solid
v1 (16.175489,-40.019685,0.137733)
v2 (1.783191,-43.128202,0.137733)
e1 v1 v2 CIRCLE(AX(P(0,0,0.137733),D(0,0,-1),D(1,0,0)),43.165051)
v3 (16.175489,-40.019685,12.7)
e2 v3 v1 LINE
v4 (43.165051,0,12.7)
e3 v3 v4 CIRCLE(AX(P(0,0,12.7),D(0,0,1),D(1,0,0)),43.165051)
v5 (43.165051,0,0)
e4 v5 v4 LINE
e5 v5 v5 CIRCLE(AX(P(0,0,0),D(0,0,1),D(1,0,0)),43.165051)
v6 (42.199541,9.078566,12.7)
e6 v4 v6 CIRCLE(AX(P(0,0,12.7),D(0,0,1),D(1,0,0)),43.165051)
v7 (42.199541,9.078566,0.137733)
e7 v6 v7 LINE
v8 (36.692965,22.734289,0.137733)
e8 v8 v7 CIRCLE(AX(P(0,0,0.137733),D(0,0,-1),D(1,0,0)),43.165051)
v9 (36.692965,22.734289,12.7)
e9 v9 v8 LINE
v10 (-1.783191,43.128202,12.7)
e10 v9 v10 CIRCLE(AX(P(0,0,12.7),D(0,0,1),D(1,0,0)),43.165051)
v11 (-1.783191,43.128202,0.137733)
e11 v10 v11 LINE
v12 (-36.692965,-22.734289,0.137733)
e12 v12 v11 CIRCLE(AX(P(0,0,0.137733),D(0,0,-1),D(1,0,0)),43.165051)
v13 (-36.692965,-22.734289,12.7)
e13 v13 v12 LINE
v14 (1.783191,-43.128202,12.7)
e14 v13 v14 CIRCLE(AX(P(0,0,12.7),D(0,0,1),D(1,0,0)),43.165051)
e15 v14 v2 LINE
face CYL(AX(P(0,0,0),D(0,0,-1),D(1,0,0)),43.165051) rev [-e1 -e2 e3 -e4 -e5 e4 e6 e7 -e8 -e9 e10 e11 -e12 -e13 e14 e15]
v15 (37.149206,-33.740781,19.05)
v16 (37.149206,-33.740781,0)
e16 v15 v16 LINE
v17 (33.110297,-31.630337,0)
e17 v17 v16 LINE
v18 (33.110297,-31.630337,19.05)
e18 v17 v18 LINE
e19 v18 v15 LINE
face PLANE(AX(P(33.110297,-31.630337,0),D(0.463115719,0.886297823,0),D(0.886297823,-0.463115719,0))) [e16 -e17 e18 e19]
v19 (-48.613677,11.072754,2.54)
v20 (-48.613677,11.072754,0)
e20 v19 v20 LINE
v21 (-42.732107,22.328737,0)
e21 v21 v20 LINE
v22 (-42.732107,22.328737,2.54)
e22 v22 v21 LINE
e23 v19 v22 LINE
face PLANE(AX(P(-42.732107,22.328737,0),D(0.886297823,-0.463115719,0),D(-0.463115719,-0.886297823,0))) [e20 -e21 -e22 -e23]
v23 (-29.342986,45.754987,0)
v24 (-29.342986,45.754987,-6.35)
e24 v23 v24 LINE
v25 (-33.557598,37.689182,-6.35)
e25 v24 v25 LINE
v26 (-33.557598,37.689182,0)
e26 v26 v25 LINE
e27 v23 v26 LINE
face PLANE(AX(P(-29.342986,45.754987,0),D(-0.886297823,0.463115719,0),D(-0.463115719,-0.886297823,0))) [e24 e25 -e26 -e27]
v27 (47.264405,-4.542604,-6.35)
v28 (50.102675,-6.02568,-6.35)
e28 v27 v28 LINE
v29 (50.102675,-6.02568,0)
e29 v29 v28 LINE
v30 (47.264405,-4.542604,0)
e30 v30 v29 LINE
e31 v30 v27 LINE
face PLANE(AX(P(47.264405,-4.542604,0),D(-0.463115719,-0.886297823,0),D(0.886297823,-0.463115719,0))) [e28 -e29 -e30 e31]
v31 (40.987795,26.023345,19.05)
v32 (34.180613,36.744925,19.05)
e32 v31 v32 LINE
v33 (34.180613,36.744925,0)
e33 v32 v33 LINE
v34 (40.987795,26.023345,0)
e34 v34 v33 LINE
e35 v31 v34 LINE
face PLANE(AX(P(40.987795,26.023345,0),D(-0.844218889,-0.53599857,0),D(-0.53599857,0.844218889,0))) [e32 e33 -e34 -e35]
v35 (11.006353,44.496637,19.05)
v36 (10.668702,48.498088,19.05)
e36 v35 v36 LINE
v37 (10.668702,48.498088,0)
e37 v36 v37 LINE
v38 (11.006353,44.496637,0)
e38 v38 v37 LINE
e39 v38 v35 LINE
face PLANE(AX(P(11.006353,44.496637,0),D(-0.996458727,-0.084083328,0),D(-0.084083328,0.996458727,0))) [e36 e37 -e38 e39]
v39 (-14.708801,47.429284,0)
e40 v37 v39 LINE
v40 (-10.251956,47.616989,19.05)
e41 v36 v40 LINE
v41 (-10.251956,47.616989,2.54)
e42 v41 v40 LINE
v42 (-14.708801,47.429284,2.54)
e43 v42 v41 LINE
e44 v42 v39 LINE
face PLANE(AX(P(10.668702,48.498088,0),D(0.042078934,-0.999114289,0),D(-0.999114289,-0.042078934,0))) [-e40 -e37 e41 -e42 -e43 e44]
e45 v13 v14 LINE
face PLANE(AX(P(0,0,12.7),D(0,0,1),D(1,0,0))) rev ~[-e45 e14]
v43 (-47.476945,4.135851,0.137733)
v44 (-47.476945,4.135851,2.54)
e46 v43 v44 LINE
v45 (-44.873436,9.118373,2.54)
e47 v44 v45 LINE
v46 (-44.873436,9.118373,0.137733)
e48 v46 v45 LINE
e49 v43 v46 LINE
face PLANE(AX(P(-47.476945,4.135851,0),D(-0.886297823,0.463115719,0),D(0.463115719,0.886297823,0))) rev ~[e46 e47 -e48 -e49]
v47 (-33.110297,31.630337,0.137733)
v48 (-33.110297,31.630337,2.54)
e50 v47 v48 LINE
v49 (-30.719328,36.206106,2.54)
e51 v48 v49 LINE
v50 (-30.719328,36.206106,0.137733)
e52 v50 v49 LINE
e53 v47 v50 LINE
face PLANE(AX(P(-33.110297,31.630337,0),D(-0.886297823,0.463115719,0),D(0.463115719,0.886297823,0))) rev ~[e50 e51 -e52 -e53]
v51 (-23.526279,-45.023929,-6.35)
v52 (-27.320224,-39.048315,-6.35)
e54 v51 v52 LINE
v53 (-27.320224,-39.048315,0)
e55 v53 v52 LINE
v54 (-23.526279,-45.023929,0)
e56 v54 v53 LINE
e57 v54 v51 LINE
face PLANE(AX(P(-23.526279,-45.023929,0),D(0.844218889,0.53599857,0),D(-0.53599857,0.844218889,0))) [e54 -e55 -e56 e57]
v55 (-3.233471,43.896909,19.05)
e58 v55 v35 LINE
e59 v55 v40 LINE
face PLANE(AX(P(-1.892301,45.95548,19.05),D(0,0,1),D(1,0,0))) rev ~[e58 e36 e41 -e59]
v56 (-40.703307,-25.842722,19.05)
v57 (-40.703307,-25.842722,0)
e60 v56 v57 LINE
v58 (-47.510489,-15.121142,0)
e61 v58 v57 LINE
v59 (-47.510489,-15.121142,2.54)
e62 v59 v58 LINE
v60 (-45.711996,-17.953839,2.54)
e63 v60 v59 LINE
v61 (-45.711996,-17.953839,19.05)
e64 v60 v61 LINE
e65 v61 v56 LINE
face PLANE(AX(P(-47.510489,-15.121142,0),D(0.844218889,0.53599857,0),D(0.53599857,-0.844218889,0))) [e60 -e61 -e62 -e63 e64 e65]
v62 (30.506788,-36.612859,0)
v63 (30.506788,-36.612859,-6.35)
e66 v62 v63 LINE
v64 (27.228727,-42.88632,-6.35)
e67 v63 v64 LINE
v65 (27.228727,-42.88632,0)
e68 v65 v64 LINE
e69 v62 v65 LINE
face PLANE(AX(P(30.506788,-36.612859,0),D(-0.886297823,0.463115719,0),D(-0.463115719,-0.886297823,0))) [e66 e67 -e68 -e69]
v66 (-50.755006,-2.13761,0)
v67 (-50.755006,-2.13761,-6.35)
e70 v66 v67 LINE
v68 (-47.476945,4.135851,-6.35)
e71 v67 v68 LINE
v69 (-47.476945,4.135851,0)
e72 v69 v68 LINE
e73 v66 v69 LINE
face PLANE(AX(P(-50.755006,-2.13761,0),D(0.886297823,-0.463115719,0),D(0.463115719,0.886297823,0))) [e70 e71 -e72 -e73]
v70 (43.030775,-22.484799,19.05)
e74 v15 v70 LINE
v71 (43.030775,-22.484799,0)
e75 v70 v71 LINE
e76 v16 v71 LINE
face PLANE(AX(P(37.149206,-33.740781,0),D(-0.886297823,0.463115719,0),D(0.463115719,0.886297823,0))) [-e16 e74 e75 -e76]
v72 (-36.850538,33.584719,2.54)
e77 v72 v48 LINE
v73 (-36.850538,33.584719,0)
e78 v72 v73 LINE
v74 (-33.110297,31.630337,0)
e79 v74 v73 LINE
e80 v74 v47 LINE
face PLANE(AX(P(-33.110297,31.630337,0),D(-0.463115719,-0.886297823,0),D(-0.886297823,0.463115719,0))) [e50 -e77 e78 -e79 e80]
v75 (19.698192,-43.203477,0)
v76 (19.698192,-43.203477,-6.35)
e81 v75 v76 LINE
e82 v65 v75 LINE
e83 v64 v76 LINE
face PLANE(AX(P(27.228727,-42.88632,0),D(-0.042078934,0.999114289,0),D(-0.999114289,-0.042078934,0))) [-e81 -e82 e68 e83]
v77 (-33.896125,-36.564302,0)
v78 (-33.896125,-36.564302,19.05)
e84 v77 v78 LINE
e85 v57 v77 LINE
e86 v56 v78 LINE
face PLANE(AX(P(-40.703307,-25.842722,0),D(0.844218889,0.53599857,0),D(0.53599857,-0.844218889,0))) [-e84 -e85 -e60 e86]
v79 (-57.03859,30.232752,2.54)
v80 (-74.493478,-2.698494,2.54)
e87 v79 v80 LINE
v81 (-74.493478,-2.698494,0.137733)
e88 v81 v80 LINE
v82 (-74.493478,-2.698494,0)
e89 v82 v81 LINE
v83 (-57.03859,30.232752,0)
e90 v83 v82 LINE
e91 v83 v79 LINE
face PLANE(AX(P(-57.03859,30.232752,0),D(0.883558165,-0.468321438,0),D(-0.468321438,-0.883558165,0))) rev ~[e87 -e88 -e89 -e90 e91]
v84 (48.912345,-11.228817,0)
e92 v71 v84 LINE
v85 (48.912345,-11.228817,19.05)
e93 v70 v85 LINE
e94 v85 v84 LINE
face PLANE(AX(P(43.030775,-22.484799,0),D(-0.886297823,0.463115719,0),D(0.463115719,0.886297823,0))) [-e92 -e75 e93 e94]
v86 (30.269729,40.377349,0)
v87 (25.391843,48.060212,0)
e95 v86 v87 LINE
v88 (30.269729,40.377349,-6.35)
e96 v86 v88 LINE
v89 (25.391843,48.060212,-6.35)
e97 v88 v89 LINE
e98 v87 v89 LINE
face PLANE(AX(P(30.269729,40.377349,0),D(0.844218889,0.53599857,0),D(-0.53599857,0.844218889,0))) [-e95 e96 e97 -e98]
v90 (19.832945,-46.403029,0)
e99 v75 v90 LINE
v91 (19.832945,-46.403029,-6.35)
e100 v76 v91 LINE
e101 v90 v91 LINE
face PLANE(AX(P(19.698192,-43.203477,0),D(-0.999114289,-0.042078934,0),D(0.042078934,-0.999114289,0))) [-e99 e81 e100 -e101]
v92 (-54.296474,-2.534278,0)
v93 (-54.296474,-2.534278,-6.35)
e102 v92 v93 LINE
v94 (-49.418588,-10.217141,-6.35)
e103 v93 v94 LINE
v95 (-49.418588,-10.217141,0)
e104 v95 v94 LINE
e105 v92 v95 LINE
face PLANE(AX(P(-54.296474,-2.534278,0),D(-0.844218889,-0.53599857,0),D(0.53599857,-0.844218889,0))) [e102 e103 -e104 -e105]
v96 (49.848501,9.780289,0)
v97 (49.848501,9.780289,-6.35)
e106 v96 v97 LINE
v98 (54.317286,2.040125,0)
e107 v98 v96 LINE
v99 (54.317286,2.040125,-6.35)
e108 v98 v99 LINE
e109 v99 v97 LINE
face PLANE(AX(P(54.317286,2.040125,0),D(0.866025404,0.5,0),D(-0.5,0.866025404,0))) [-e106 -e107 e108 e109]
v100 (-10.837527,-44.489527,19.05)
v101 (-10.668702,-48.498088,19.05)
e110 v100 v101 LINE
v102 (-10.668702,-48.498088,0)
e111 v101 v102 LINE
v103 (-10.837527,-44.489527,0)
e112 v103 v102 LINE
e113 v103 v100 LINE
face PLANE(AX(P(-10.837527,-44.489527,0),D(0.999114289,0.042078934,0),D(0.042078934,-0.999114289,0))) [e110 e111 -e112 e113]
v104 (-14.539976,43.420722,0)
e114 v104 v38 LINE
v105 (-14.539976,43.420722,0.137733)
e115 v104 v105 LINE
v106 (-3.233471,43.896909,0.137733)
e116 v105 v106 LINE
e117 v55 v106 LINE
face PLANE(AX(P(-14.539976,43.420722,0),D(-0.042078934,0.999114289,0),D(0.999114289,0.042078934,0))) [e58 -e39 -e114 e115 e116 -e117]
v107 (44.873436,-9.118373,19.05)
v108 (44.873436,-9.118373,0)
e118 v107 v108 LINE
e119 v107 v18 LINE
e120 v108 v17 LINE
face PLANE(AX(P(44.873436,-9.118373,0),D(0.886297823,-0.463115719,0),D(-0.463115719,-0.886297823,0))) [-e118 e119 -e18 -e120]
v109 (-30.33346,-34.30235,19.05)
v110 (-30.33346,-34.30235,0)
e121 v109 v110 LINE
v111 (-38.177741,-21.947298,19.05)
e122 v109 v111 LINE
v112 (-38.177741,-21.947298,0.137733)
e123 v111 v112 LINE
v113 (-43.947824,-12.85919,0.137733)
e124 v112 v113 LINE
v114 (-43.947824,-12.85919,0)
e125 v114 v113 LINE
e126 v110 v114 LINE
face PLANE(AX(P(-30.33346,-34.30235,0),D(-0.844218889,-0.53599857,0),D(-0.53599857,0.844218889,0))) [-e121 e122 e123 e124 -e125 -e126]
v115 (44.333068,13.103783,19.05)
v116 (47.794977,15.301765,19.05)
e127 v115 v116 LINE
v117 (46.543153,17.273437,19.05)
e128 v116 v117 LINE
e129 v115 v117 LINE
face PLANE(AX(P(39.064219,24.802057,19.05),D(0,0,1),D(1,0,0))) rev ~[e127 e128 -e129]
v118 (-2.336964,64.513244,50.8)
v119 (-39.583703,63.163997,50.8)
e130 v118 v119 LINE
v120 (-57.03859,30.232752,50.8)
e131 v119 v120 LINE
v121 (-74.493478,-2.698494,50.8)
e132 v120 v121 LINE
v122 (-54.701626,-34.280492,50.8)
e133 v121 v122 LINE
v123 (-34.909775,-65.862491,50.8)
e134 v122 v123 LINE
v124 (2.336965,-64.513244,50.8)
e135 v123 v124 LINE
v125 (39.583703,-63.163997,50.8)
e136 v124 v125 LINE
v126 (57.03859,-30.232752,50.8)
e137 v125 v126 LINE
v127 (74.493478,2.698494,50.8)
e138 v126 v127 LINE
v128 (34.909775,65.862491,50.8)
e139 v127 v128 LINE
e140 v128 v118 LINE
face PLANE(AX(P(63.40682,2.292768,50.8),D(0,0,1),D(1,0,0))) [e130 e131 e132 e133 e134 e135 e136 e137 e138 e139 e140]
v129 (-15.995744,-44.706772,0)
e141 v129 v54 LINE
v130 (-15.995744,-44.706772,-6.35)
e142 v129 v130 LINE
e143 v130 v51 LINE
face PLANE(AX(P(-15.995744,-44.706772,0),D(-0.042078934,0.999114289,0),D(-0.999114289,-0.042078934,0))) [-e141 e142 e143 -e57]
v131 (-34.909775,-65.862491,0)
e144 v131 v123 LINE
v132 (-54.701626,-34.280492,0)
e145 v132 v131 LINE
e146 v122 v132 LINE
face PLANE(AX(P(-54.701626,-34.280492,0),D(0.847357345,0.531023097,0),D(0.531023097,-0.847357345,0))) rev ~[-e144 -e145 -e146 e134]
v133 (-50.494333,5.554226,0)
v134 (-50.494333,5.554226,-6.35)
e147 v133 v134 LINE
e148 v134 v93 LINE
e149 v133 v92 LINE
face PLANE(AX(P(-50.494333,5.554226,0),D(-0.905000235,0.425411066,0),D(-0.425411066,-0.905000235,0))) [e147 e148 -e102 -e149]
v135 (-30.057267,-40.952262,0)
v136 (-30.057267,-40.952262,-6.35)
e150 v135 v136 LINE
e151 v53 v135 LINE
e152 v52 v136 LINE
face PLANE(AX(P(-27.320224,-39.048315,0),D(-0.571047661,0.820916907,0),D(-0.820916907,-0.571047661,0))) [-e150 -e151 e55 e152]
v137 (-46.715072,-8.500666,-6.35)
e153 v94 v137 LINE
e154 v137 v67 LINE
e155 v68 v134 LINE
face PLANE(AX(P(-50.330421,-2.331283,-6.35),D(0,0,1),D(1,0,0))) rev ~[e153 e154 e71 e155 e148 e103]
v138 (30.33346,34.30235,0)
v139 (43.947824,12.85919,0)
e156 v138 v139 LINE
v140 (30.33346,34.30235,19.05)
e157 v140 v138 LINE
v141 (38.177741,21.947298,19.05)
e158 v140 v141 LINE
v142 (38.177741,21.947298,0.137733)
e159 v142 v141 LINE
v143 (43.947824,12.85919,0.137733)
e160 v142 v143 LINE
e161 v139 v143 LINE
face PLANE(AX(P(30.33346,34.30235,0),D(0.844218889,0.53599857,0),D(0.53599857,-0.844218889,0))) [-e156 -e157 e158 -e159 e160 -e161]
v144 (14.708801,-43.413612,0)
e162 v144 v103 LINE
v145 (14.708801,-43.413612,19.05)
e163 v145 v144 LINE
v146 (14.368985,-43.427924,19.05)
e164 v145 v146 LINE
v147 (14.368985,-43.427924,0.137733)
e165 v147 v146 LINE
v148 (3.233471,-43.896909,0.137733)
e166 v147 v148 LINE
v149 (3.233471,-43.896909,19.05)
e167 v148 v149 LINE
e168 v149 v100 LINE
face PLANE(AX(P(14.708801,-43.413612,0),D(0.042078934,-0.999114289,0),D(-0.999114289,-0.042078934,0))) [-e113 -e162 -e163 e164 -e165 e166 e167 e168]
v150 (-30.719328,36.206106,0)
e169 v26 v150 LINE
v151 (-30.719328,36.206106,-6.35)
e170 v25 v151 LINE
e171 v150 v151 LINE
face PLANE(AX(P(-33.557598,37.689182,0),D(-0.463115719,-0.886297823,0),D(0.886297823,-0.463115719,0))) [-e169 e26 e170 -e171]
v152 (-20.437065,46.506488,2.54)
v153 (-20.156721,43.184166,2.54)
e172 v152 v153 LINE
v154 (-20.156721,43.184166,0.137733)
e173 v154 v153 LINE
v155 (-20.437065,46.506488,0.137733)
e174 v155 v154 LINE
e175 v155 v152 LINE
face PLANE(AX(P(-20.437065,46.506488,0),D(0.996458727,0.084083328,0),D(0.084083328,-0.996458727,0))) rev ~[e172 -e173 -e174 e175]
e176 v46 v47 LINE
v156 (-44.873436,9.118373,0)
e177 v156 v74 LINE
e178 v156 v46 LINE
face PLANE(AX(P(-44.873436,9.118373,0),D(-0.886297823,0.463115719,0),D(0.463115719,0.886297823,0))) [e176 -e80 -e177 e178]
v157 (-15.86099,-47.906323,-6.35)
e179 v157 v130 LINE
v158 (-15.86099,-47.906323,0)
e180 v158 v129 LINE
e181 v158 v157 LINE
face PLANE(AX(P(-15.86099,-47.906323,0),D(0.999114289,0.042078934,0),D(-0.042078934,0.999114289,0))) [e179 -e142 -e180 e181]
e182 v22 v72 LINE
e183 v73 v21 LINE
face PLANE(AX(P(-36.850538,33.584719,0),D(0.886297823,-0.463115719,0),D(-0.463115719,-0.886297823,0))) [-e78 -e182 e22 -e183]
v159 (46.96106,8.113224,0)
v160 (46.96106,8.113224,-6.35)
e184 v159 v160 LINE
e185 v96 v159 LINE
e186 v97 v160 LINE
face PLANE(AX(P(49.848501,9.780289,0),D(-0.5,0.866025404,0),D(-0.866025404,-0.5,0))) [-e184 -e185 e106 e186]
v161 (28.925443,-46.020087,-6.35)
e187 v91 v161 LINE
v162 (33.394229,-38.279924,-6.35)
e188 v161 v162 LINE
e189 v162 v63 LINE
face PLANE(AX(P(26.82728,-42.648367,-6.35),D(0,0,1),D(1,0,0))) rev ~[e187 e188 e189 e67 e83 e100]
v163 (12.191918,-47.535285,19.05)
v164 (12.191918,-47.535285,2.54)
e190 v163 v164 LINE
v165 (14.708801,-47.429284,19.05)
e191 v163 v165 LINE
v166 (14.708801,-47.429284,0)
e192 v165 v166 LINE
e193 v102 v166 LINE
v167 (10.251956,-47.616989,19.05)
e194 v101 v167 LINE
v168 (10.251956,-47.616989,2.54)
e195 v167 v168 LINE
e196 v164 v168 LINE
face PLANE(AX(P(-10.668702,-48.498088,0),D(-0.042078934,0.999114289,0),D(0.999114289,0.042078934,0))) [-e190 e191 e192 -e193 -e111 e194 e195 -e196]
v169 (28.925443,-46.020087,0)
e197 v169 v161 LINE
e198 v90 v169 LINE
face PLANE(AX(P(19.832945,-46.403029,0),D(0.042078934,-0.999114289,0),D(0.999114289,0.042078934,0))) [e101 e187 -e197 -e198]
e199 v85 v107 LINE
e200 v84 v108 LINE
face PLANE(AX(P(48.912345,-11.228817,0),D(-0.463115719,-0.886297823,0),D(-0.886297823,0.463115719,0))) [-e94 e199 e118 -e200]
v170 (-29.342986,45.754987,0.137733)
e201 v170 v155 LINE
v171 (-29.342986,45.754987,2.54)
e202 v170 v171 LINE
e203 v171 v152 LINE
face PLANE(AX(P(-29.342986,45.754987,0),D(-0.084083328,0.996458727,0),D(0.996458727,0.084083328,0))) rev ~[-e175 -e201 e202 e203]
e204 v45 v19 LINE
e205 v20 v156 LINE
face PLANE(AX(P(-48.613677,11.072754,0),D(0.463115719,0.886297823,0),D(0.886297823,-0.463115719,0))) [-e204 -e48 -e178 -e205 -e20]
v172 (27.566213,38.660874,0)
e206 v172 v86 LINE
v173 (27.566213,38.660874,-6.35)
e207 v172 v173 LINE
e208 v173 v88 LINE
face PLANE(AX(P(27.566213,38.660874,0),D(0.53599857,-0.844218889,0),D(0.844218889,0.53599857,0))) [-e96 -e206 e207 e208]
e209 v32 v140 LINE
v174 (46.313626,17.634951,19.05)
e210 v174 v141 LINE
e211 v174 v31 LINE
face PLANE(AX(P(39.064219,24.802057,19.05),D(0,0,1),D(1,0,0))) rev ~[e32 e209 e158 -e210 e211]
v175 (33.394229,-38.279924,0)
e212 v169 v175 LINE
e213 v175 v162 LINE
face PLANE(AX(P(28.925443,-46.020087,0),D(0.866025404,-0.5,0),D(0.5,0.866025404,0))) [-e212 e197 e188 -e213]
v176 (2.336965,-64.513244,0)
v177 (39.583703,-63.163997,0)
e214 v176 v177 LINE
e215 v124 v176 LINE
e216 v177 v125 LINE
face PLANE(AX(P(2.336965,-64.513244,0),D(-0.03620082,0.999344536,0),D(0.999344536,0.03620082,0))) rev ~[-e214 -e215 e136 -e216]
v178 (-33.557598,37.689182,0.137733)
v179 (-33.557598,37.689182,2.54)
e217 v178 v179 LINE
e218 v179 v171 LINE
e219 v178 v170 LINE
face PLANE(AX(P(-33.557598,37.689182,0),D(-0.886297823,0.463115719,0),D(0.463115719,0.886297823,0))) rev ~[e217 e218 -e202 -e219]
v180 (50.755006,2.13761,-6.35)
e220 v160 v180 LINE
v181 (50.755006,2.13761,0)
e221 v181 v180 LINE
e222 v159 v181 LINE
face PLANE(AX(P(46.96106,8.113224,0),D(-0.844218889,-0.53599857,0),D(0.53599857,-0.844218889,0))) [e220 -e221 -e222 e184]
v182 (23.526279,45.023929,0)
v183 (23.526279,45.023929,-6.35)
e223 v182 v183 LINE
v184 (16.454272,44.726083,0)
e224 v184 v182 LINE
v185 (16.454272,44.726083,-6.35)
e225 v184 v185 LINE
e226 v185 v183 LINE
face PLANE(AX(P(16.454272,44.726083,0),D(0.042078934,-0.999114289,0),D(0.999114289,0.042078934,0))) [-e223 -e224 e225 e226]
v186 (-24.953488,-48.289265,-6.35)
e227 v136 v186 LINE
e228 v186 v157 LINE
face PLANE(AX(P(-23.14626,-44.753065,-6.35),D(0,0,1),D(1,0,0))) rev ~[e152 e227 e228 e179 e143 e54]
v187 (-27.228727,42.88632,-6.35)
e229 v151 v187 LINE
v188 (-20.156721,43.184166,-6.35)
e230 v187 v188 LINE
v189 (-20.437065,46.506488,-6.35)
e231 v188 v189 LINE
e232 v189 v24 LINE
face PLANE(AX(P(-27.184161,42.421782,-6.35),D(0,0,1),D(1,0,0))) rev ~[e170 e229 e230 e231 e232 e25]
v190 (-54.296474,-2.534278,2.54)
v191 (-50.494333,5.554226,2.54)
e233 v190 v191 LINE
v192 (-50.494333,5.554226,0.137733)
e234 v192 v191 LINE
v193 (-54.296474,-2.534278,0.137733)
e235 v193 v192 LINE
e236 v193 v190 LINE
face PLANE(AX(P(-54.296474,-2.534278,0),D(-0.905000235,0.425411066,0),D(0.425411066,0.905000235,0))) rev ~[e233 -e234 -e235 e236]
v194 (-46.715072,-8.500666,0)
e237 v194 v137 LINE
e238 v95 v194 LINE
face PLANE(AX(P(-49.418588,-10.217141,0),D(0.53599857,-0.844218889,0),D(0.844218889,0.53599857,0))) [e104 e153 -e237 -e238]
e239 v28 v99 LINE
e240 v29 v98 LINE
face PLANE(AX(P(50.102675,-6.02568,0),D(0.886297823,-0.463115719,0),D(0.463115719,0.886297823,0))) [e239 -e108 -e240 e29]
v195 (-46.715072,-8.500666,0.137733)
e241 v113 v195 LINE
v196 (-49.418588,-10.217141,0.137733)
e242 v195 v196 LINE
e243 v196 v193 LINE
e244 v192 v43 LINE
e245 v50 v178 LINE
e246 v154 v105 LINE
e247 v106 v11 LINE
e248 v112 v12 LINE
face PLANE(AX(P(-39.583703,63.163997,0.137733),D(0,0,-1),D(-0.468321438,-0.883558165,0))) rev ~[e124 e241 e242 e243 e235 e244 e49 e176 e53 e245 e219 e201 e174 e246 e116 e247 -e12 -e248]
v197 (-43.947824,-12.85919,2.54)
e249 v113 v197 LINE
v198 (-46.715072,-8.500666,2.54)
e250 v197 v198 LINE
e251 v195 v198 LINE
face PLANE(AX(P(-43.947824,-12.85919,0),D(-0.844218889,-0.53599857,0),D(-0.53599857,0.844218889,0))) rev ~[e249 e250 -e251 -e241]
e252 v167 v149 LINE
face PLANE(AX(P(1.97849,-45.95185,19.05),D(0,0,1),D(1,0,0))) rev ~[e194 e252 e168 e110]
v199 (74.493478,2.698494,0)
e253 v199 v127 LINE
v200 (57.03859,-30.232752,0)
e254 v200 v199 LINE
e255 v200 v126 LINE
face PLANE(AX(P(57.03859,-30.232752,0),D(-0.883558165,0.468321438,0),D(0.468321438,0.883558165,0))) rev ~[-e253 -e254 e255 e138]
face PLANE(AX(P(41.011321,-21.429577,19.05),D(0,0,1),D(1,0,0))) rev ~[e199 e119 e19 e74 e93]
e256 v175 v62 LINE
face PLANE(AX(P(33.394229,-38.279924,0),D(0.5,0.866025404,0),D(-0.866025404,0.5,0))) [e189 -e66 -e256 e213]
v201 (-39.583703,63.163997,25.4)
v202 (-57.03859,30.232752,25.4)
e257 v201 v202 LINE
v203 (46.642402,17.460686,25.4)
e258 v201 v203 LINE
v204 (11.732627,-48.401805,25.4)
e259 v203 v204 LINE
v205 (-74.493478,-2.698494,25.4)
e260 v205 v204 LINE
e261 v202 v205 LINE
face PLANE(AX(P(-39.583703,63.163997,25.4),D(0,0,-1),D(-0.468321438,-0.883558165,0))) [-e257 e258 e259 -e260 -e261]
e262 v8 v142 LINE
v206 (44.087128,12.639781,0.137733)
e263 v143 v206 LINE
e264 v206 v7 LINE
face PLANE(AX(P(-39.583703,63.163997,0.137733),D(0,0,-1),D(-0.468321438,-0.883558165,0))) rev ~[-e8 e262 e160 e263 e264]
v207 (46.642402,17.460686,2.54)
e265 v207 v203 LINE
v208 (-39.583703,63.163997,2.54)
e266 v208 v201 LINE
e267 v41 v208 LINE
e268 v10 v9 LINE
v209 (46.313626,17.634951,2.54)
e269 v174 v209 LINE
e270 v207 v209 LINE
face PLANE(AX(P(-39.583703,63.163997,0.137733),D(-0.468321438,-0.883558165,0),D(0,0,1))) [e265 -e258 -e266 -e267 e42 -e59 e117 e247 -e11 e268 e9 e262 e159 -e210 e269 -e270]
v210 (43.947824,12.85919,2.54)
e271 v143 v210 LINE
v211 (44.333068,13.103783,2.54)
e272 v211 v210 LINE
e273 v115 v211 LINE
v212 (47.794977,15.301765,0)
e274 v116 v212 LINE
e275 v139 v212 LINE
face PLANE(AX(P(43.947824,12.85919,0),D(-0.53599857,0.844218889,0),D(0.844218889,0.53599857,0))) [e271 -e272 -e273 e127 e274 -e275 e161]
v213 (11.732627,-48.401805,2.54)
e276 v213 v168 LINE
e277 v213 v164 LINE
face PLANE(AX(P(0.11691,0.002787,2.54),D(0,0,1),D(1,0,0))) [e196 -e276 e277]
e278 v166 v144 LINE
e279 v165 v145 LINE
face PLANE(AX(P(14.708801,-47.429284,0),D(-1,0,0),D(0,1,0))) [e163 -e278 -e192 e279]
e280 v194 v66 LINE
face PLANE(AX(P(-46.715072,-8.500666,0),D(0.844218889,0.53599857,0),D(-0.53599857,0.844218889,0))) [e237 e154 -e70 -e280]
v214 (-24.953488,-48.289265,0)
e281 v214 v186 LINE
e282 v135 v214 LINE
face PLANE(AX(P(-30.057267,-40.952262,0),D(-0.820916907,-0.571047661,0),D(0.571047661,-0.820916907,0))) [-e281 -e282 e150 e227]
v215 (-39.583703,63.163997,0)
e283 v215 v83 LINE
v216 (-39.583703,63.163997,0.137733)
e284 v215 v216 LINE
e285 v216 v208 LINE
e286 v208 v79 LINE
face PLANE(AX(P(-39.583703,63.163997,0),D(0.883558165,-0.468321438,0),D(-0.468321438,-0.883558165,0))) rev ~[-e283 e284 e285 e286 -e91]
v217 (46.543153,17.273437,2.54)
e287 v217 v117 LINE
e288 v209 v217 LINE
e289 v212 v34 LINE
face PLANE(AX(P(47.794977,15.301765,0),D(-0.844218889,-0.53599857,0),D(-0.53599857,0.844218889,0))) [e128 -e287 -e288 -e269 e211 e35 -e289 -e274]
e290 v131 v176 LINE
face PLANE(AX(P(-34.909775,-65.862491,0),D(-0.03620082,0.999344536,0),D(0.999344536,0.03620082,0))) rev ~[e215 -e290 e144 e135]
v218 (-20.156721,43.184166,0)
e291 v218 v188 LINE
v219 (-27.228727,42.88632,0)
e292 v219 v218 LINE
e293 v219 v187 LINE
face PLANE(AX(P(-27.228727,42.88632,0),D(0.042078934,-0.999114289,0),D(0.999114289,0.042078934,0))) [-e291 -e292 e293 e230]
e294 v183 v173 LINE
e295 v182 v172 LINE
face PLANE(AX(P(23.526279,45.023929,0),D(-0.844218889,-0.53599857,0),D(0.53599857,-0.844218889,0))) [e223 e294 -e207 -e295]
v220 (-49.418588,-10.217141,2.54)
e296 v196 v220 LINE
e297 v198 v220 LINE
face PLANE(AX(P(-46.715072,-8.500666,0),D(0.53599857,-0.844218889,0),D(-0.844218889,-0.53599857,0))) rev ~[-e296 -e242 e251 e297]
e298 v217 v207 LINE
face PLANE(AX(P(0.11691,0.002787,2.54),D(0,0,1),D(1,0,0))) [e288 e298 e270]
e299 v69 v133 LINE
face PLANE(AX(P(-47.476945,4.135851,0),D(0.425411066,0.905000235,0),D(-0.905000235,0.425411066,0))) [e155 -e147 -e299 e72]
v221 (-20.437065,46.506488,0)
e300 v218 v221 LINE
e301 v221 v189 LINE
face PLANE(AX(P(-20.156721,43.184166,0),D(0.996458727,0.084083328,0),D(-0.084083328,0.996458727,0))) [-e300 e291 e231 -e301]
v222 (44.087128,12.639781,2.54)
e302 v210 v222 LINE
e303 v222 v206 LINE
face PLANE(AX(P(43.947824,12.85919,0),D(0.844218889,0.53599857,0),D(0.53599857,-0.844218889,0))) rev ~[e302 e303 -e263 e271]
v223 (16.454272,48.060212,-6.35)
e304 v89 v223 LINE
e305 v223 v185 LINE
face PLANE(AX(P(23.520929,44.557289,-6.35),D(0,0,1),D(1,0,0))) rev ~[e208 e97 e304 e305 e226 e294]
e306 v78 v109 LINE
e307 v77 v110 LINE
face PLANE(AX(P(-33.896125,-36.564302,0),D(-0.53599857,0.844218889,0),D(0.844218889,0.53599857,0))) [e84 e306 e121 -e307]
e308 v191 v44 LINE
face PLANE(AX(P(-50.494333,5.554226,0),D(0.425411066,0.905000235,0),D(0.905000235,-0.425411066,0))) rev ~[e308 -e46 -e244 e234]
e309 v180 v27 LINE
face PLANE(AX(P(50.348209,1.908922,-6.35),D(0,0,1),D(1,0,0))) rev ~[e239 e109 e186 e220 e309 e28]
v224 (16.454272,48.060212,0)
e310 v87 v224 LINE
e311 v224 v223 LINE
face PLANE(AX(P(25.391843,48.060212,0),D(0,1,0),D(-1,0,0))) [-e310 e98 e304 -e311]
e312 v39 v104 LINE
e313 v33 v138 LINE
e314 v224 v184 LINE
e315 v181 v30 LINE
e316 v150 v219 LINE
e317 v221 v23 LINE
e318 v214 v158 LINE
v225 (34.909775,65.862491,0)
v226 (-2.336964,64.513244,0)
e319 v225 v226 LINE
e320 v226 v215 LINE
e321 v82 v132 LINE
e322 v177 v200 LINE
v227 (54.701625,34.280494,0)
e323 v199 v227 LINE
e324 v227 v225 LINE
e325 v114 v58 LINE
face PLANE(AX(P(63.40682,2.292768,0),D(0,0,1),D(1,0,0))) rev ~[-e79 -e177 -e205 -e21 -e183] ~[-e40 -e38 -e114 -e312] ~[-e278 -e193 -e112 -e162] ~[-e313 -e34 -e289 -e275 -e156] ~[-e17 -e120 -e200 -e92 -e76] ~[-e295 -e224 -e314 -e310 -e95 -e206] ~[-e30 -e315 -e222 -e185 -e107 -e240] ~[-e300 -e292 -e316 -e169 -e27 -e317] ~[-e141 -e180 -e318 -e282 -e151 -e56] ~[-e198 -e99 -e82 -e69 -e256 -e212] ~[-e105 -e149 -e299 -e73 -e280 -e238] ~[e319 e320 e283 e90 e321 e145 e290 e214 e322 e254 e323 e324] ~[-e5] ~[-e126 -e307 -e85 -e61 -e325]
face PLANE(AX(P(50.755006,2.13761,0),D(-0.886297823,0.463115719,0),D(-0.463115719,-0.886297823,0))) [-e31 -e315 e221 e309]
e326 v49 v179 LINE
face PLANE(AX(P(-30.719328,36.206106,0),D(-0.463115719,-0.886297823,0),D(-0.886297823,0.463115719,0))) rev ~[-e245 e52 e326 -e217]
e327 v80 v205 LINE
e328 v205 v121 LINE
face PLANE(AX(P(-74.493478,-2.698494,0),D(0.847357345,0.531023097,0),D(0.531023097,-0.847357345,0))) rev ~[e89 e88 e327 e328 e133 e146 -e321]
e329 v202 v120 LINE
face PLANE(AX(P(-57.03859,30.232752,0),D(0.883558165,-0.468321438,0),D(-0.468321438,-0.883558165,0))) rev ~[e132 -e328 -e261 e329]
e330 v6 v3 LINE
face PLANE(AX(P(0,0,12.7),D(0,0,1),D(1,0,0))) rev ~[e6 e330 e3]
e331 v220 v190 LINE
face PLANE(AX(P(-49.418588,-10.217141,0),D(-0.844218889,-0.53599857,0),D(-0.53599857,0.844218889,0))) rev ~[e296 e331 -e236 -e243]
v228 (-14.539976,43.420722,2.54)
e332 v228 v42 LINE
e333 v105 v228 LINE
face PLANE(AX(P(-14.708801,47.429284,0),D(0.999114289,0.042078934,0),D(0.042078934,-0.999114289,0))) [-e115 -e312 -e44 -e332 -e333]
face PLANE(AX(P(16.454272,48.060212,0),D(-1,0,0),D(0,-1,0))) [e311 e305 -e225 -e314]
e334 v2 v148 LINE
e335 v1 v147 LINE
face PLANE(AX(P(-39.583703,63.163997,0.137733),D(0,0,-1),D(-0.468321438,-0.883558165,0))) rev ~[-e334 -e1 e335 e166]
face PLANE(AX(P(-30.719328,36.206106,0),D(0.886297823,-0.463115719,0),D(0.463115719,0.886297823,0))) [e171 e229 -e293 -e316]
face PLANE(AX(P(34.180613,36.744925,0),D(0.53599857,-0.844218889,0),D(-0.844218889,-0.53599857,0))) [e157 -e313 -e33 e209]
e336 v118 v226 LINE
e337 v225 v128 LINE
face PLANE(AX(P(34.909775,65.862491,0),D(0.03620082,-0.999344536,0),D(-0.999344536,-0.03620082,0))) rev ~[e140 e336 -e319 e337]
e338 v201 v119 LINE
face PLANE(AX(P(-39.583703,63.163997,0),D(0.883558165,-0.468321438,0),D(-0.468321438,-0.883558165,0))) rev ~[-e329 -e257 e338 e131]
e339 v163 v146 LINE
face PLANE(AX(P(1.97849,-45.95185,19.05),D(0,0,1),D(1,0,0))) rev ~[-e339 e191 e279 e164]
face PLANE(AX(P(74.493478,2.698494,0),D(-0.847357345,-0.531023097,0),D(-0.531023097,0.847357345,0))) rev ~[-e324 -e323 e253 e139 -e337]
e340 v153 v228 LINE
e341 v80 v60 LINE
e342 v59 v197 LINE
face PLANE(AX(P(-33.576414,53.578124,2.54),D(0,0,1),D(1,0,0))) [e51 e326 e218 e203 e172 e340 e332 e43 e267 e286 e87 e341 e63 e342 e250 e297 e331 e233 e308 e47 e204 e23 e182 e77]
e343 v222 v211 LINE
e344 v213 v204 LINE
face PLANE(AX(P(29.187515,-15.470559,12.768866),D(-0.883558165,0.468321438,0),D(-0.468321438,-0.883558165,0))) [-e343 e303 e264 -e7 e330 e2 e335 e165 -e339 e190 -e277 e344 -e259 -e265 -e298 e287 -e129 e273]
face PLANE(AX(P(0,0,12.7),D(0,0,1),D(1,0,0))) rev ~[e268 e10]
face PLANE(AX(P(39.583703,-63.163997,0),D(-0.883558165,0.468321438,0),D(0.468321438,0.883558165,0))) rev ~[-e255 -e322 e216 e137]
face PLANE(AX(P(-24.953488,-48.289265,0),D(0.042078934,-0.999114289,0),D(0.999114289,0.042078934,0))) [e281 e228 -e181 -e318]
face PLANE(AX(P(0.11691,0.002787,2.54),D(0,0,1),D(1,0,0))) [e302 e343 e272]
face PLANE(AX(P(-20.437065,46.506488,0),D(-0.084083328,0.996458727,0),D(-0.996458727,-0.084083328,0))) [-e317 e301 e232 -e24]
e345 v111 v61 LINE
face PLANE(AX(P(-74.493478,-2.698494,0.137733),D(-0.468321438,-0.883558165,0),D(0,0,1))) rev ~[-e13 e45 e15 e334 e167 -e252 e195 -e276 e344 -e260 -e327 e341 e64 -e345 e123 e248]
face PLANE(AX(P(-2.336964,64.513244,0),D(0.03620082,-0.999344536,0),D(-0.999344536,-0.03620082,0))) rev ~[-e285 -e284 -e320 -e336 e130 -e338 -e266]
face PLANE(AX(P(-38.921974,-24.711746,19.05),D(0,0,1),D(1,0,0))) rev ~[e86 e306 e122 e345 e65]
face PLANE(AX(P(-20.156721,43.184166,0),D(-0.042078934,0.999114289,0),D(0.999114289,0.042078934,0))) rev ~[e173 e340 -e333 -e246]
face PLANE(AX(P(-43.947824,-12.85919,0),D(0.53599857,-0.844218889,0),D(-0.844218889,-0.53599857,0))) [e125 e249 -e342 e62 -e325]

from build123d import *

# Parameters (mm, degrees)
F0_R     = 43.165050556
F1_DEPTH = 50.8
F2_DEPTH = 12.7
F3_W     = 74.5423375242
F3_H     = 25.2622670705
F5_DEPTH = 97.5896194577
F6_DEPTH = 19.05
F7_DEPTH = 19.05
F8_DEPTH = 2.54
F9_DEPTH = 6.35


with BuildPart() as f1:
    # F0 (on Top) → F1 (new body)
    with BuildSketch(Plane.XY):
        with BuildLine():
            Line((57.0385901099, -30.2327521232), (74.4934776686, 2.6984937288))
            Line((74.4934776686, 2.6984937288), (54.7016252051, 34.2804939083))
            ThreePointArc((54.7016252051, 34.2804939083), (62.0431865669, 17.8343226196), (64.5555579534, 0))
            ThreePointArc((64.5555579534, 0), (62.6481367325, -15.5766179457), (57.0385901099, -30.2327521232))
        make_face()
        with BuildLine():
            Line((39.5837029554, -63.1639972128), (57.0385901099, -30.2327521232))
            ThreePointArc((57.0385901099, -30.2327521232), (34.280492356, -54.7016261779), (2.3369646013, -64.5132440599))
            Line((2.3369646013, -64.5132440599), (39.5837029554, -63.1639972128))
        make_face()
        with BuildLine():
            Line((-34.9097747132, -65.8624909417), (2.3369646013, -64.5132440599))
            ThreePointArc((2.3369646013, -64.5132440599), (-30.2327516987, -57.038590335), (-54.7016263939, -34.2804920112))
            Line((-54.7016263939, -34.2804920112), (-34.9097747132, -65.8624909417))
        make_face()
        with BuildLine():
            Line((-74.4934776686, -2.6984937288), (-54.7016263939, -34.2804920112))
            ThreePointArc((-54.7016263939, -34.2804920112), (-64.5132440984, -2.3369635366), (-57.0385899433, 30.2327524377))
            Line((-57.0385899433, 30.2327524377), (-74.4934776686, -2.6984937288))
        make_face()
        with BuildLine():
            ThreePointArc((2.3369646013, -64.5132440599), (34.280492356, -54.7016261779), (57.0385901099, -30.2327521232))
            ThreePointArc((57.0385901099, -30.2327521232), (62.6481367325, -15.5766179457), (64.5555579534, 0))
            ThreePointArc((64.5555579534, 0), (62.0431865669, 17.8343226196), (54.7016252051, 34.2804939083))
            ThreePointArc((54.7016252051, 34.2804939083), (30.232750983, 57.0385907143), (-2.3369639827, 64.5132440823))
            ThreePointArc((-2.3369639827, 64.5132440823), (-34.280491943, 54.7016264367), (-57.0385899433, 30.2327524377))
            ThreePointArc((-57.0385899433, 30.2327524377), (-64.5132440984, -2.3369635366), (-54.7016263939, -34.2804920112))
            ThreePointArc((-54.7016263939, -34.2804920112), (-30.2327516987, -57.038590335), (2.3369646013, -64.5132440599))
        make_face()
        Circle(F0_R, mode=Mode.SUBTRACT)
        with BuildLine():
            ThreePointArc((-57.0385899433, 30.2327524377), (-34.280491943, 54.7016264367), (-2.3369639827, 64.5132440823))
            Line((-2.3369639827, 64.5132440823), (-39.5837029554, 63.1639972128))
            Line((-39.5837029554, 63.1639972128), (-57.0385899433, 30.2327524377))
        make_face()
        with BuildLine():
            ThreePointArc((-2.3369639827, 64.5132440823), (30.232750983, 57.0385907143), (54.7016252051, 34.2804939083))
            Line((54.7016252051, 34.2804939083), (34.9097747132, 65.8624909417))
            Line((34.9097747132, 65.8624909417), (-2.3369639827, 64.5132440823))
        make_face()
        Circle(F0_R)
    extrude(amount=F1_DEPTH)

    # F0 (on Top) → F2 (cut)
    with BuildSketch(Plane.XY):
        Circle(F0_R)
    extrude(amount=F2_DEPTH, mode=Mode.SUBTRACT)

    # F3 (on face) → F5 (cut)
    with BuildSketch(Plane(origin=(-57.038590312, 30.232751742, 0), x_dir=(-0.4683214382, -0.8835581648, 0), z_dir=(-0.8835581648, 0.4683214382, 0))):
        with Locations((0, 12.7688664648)):
            Rectangle(F3_W, F3_H)
    extrude(amount=-F5_DEPTH, mode=Mode.SUBTRACT)

    # F4 (on face) → F6 (cut)
    with BuildSketch(Plane.XY):
        Polygon((14.7088014101, -43.41361173), (-10.8375270656, -44.4895269373), (-10.6687015415, -48.4980884536), (2.0200499343, -47.9636859978), (14.7088014101, -47.429283542), align=None)
        Polygon((30.3334603819, 34.3023495006), (43.9478240628, 12.8591897156), (47.7949766962, 15.3017651388), (40.9877948558, 26.0233450313), (34.1806130153, 36.7449249238), align=None)
        Polygon((44.8734362679, -9.1183725252), (33.1102969972, -31.6303372217), (37.1492056811, -33.7407814228), (43.0307753164, -22.4847990746), (48.9123449518, -11.2288167263), align=None)
    extrude(amount=F6_DEPTH, mode=Mode.SUBTRACT)

    # F4 (on face) → F7 (cut)
    with BuildSketch(Plane.XY):
        Polygon((-33.8961248298, -36.5643020277), (-30.3334603819, -34.3023495006), (-43.9478240628, -12.8591897156), (-47.5104885107, -15.1211422428), (-40.7033066702, -25.8427221352), align=None)
        Polygon((-48.6136768425, 11.0727541786), (-44.8734362679, 9.1183725252), (-33.1102969972, 31.6303372217), (-36.8505375718, 33.5847188751), (-42.7321072072, 22.3287365268), align=None)
        Polygon((-14.7088014101, 47.429283542), (-14.539975886, 43.4207220257), (11.0063525898, 44.4966372329), (10.6687015415, 48.4980884536), (-2.0200499343, 47.9636859978), align=None)
    extrude(amount=F7_DEPTH, mode=Mode.SUBTRACT)

    # F0 (on Top) + F4 (on face) → F8 (join)
    with BuildSketch(Plane.XY):
        with BuildLine():
            ThreePointArc((-57.0385899433, 30.2327524377), (-34.280491943, 54.7016264367), (-2.3369639827, 64.5132440823))
            Line((-2.3369639827, 64.5132440823), (-39.5837029554, 63.1639972128))
            Line((-39.5837029554, 63.1639972128), (-57.0385899433, 30.2327524377))
        make_face()
        with BuildLine():
            Line((-74.4934776686, -2.6984937288), (-54.7016263939, -34.2804920112))
            ThreePointArc((-54.7016263939, -34.2804920112), (-64.5132440984, -2.3369635366), (-57.0385899433, 30.2327524377))
            Line((-57.0385899433, 30.2327524377), (-74.4934776686, -2.6984937288))
        make_face()
    with BuildSketch(Plane.XY):
        with BuildLine():
            ThreePointArc((-54.7016263939, -34.2804920112), (-30.2327516987, -57.038590335), (2.3369646013, -64.5132440599))
            ThreePointArc((2.3369646013, -64.5132440599), (34.280492356, -54.7016261779), (57.0385901099, -30.2327521232))
            ThreePointArc((57.0385901099, -30.2327521232), (62.6481367325, -15.5766179457), (64.5555579534, 0))
            ThreePointArc((64.5555579534, 0), (62.0431865669, 17.8343226196), (54.7016252051, 34.2804939083))
            ThreePointArc((54.7016252051, 34.2804939083), (30.232750983, 57.0385907143), (-2.3369639827, 64.5132440823))
            ThreePointArc((-2.3369639827, 64.5132440823), (-34.280491943, 54.7016264367), (-57.0385899433, 30.2327524377))
            ThreePointArc((-57.0385899433, 30.2327524377), (-64.5132440984, -2.3369635366), (-54.7016263939, -34.2804920112))
        make_face()
        Polygon((-30.0572673127, -40.9522618745), (-27.3202242883, -39.0483151983), (-30.3334603819, -34.3023495006), (-33.8961248298, -36.5643020277), (-40.7033066702, -25.8427221352), (-47.5104885107, -15.1211422428), (-43.9478240628, -12.8591897156), (-46.7150717143, -8.5006655168), (-49.4185883118, -10.2171410057), (-54.2964744699, -2.5342779097), (-50.4943327821, 5.5542261239), (-47.4769450808, 4.1358506716), (-44.8734362679, 9.1183725252), (-48.6136768425, 11.0727541786), (-42.7321072072, 22.3287365268), (-36.8505375718, 33.5847188751), (-33.1102969972, 31.6303372217), (-30.7193281438, 36.2061060858), (-33.5575978209, 37.6891823943), (-29.342986285, 45.754987272), (-20.4370654694, 46.5064879984), (-20.1567207926, 43.1841658699), (-14.539975886, 43.4207220257), (-14.7088014101, 47.429283542), (-2.0200499343, 47.9636859978), (10.6687015415, 48.4980884536), (11.0063525898, 44.4966372329), (16.4542719722, 44.7260830931), (16.4542719722, 48.0602122843), (25.3918431699, 48.0602122843), (30.269729328, 40.3773491883), (27.5662127305, 38.6608736994), (30.3334603819, 34.3023495006), (34.1806130153, 36.7449249238), (40.9877948558, 26.0233450313), (47.7949766962, 15.3017651388), (43.9478240628, 12.8591897156), (46.9610601565, 8.1132240179), (49.8485007356, 9.7802886135), (54.3172863345, 2.0401249081), (50.1026747985, -6.0256799696), (47.2644051214, -4.542603661), (44.8734362679, -9.1183725252), (48.9123449518, -11.2288167263), (43.0307753164, -22.4847990746), (37.1492056811, -33.7407814228), (33.1102969972, -31.6303372217), (30.5067881843, -36.6128590752), (33.3942287634, -38.2799236708), (28.9254431645, -46.0200873762), (19.8329454705, -46.4030291579), (19.6981923909, -43.2034773604), (14.7088014101, -43.41361173), (14.7088014101, -47.429283542), (2.0200499343, -47.9636859978), (-10.6687015415, -48.4980884536), (-10.8375270656, -44.4895269373), (-15.9957435705, -44.7067716026), (-15.8609904909, -47.9063234), (-24.9534881849, -48.2892651817), align=None, mode=Mode.SUBTRACT)
    extrude(amount=F8_DEPTH)

    # F4 (on face) → F9 (join)
    with BuildSketch(Plane.XY):
        Polygon((27.2287273618, -42.8863195699), (19.6981923909, -43.2034773604), (19.8329454705, -46.4030291579), (28.9254431645, -46.0200873762), (33.3942287634, -38.2799236708), (30.5067881843, -36.6128590752), align=None)
        Polygon((-15.9957435705, -44.7067716026), (-23.5262785415, -45.023929393), (-27.3202242883, -39.0483151983), (-30.0572673127, -40.9522618745), (-24.9534881849, -48.2892651817), (-15.8609904909, -47.9063234), align=None)
        Polygon((-49.4185883118, -10.2171410057), (-46.7150717143, -8.5006655168), (-50.7550059033, -2.1376098231), (-47.4769450808, 4.1358506716), (-50.4943327821, 5.5542261239), (-54.2964744699, -2.5342779097), align=None)
        Polygon((-33.5575978209, 37.6891823943), (-30.7193281438, 36.2061060858), (-27.2287273618, 42.8863195699), (-20.1567207926, 43.1841658699), (-20.4370654694, 46.5064879984), (-29.342986285, 45.754987272), align=None)
        Polygon((16.4542719722, 48.0602122843), (16.4542719722, 44.7260830931), (23.5262785415, 45.023929393), (27.5662127305, 38.6608736994), (30.269729328, 40.3773491883), (25.3918431699, 48.0602122843), align=None)
        Polygon((50.7550059033, 2.1376098231), (47.2644051214, -4.542603661), (50.1026747985, -6.0256799696), (54.3172863345, 2.0401249081), (49.8485007356, 9.7802886135), (46.9610601565, 8.1132240179), align=None)
    extrude(amount=-F9_DEPTH)


solid = f1.part
